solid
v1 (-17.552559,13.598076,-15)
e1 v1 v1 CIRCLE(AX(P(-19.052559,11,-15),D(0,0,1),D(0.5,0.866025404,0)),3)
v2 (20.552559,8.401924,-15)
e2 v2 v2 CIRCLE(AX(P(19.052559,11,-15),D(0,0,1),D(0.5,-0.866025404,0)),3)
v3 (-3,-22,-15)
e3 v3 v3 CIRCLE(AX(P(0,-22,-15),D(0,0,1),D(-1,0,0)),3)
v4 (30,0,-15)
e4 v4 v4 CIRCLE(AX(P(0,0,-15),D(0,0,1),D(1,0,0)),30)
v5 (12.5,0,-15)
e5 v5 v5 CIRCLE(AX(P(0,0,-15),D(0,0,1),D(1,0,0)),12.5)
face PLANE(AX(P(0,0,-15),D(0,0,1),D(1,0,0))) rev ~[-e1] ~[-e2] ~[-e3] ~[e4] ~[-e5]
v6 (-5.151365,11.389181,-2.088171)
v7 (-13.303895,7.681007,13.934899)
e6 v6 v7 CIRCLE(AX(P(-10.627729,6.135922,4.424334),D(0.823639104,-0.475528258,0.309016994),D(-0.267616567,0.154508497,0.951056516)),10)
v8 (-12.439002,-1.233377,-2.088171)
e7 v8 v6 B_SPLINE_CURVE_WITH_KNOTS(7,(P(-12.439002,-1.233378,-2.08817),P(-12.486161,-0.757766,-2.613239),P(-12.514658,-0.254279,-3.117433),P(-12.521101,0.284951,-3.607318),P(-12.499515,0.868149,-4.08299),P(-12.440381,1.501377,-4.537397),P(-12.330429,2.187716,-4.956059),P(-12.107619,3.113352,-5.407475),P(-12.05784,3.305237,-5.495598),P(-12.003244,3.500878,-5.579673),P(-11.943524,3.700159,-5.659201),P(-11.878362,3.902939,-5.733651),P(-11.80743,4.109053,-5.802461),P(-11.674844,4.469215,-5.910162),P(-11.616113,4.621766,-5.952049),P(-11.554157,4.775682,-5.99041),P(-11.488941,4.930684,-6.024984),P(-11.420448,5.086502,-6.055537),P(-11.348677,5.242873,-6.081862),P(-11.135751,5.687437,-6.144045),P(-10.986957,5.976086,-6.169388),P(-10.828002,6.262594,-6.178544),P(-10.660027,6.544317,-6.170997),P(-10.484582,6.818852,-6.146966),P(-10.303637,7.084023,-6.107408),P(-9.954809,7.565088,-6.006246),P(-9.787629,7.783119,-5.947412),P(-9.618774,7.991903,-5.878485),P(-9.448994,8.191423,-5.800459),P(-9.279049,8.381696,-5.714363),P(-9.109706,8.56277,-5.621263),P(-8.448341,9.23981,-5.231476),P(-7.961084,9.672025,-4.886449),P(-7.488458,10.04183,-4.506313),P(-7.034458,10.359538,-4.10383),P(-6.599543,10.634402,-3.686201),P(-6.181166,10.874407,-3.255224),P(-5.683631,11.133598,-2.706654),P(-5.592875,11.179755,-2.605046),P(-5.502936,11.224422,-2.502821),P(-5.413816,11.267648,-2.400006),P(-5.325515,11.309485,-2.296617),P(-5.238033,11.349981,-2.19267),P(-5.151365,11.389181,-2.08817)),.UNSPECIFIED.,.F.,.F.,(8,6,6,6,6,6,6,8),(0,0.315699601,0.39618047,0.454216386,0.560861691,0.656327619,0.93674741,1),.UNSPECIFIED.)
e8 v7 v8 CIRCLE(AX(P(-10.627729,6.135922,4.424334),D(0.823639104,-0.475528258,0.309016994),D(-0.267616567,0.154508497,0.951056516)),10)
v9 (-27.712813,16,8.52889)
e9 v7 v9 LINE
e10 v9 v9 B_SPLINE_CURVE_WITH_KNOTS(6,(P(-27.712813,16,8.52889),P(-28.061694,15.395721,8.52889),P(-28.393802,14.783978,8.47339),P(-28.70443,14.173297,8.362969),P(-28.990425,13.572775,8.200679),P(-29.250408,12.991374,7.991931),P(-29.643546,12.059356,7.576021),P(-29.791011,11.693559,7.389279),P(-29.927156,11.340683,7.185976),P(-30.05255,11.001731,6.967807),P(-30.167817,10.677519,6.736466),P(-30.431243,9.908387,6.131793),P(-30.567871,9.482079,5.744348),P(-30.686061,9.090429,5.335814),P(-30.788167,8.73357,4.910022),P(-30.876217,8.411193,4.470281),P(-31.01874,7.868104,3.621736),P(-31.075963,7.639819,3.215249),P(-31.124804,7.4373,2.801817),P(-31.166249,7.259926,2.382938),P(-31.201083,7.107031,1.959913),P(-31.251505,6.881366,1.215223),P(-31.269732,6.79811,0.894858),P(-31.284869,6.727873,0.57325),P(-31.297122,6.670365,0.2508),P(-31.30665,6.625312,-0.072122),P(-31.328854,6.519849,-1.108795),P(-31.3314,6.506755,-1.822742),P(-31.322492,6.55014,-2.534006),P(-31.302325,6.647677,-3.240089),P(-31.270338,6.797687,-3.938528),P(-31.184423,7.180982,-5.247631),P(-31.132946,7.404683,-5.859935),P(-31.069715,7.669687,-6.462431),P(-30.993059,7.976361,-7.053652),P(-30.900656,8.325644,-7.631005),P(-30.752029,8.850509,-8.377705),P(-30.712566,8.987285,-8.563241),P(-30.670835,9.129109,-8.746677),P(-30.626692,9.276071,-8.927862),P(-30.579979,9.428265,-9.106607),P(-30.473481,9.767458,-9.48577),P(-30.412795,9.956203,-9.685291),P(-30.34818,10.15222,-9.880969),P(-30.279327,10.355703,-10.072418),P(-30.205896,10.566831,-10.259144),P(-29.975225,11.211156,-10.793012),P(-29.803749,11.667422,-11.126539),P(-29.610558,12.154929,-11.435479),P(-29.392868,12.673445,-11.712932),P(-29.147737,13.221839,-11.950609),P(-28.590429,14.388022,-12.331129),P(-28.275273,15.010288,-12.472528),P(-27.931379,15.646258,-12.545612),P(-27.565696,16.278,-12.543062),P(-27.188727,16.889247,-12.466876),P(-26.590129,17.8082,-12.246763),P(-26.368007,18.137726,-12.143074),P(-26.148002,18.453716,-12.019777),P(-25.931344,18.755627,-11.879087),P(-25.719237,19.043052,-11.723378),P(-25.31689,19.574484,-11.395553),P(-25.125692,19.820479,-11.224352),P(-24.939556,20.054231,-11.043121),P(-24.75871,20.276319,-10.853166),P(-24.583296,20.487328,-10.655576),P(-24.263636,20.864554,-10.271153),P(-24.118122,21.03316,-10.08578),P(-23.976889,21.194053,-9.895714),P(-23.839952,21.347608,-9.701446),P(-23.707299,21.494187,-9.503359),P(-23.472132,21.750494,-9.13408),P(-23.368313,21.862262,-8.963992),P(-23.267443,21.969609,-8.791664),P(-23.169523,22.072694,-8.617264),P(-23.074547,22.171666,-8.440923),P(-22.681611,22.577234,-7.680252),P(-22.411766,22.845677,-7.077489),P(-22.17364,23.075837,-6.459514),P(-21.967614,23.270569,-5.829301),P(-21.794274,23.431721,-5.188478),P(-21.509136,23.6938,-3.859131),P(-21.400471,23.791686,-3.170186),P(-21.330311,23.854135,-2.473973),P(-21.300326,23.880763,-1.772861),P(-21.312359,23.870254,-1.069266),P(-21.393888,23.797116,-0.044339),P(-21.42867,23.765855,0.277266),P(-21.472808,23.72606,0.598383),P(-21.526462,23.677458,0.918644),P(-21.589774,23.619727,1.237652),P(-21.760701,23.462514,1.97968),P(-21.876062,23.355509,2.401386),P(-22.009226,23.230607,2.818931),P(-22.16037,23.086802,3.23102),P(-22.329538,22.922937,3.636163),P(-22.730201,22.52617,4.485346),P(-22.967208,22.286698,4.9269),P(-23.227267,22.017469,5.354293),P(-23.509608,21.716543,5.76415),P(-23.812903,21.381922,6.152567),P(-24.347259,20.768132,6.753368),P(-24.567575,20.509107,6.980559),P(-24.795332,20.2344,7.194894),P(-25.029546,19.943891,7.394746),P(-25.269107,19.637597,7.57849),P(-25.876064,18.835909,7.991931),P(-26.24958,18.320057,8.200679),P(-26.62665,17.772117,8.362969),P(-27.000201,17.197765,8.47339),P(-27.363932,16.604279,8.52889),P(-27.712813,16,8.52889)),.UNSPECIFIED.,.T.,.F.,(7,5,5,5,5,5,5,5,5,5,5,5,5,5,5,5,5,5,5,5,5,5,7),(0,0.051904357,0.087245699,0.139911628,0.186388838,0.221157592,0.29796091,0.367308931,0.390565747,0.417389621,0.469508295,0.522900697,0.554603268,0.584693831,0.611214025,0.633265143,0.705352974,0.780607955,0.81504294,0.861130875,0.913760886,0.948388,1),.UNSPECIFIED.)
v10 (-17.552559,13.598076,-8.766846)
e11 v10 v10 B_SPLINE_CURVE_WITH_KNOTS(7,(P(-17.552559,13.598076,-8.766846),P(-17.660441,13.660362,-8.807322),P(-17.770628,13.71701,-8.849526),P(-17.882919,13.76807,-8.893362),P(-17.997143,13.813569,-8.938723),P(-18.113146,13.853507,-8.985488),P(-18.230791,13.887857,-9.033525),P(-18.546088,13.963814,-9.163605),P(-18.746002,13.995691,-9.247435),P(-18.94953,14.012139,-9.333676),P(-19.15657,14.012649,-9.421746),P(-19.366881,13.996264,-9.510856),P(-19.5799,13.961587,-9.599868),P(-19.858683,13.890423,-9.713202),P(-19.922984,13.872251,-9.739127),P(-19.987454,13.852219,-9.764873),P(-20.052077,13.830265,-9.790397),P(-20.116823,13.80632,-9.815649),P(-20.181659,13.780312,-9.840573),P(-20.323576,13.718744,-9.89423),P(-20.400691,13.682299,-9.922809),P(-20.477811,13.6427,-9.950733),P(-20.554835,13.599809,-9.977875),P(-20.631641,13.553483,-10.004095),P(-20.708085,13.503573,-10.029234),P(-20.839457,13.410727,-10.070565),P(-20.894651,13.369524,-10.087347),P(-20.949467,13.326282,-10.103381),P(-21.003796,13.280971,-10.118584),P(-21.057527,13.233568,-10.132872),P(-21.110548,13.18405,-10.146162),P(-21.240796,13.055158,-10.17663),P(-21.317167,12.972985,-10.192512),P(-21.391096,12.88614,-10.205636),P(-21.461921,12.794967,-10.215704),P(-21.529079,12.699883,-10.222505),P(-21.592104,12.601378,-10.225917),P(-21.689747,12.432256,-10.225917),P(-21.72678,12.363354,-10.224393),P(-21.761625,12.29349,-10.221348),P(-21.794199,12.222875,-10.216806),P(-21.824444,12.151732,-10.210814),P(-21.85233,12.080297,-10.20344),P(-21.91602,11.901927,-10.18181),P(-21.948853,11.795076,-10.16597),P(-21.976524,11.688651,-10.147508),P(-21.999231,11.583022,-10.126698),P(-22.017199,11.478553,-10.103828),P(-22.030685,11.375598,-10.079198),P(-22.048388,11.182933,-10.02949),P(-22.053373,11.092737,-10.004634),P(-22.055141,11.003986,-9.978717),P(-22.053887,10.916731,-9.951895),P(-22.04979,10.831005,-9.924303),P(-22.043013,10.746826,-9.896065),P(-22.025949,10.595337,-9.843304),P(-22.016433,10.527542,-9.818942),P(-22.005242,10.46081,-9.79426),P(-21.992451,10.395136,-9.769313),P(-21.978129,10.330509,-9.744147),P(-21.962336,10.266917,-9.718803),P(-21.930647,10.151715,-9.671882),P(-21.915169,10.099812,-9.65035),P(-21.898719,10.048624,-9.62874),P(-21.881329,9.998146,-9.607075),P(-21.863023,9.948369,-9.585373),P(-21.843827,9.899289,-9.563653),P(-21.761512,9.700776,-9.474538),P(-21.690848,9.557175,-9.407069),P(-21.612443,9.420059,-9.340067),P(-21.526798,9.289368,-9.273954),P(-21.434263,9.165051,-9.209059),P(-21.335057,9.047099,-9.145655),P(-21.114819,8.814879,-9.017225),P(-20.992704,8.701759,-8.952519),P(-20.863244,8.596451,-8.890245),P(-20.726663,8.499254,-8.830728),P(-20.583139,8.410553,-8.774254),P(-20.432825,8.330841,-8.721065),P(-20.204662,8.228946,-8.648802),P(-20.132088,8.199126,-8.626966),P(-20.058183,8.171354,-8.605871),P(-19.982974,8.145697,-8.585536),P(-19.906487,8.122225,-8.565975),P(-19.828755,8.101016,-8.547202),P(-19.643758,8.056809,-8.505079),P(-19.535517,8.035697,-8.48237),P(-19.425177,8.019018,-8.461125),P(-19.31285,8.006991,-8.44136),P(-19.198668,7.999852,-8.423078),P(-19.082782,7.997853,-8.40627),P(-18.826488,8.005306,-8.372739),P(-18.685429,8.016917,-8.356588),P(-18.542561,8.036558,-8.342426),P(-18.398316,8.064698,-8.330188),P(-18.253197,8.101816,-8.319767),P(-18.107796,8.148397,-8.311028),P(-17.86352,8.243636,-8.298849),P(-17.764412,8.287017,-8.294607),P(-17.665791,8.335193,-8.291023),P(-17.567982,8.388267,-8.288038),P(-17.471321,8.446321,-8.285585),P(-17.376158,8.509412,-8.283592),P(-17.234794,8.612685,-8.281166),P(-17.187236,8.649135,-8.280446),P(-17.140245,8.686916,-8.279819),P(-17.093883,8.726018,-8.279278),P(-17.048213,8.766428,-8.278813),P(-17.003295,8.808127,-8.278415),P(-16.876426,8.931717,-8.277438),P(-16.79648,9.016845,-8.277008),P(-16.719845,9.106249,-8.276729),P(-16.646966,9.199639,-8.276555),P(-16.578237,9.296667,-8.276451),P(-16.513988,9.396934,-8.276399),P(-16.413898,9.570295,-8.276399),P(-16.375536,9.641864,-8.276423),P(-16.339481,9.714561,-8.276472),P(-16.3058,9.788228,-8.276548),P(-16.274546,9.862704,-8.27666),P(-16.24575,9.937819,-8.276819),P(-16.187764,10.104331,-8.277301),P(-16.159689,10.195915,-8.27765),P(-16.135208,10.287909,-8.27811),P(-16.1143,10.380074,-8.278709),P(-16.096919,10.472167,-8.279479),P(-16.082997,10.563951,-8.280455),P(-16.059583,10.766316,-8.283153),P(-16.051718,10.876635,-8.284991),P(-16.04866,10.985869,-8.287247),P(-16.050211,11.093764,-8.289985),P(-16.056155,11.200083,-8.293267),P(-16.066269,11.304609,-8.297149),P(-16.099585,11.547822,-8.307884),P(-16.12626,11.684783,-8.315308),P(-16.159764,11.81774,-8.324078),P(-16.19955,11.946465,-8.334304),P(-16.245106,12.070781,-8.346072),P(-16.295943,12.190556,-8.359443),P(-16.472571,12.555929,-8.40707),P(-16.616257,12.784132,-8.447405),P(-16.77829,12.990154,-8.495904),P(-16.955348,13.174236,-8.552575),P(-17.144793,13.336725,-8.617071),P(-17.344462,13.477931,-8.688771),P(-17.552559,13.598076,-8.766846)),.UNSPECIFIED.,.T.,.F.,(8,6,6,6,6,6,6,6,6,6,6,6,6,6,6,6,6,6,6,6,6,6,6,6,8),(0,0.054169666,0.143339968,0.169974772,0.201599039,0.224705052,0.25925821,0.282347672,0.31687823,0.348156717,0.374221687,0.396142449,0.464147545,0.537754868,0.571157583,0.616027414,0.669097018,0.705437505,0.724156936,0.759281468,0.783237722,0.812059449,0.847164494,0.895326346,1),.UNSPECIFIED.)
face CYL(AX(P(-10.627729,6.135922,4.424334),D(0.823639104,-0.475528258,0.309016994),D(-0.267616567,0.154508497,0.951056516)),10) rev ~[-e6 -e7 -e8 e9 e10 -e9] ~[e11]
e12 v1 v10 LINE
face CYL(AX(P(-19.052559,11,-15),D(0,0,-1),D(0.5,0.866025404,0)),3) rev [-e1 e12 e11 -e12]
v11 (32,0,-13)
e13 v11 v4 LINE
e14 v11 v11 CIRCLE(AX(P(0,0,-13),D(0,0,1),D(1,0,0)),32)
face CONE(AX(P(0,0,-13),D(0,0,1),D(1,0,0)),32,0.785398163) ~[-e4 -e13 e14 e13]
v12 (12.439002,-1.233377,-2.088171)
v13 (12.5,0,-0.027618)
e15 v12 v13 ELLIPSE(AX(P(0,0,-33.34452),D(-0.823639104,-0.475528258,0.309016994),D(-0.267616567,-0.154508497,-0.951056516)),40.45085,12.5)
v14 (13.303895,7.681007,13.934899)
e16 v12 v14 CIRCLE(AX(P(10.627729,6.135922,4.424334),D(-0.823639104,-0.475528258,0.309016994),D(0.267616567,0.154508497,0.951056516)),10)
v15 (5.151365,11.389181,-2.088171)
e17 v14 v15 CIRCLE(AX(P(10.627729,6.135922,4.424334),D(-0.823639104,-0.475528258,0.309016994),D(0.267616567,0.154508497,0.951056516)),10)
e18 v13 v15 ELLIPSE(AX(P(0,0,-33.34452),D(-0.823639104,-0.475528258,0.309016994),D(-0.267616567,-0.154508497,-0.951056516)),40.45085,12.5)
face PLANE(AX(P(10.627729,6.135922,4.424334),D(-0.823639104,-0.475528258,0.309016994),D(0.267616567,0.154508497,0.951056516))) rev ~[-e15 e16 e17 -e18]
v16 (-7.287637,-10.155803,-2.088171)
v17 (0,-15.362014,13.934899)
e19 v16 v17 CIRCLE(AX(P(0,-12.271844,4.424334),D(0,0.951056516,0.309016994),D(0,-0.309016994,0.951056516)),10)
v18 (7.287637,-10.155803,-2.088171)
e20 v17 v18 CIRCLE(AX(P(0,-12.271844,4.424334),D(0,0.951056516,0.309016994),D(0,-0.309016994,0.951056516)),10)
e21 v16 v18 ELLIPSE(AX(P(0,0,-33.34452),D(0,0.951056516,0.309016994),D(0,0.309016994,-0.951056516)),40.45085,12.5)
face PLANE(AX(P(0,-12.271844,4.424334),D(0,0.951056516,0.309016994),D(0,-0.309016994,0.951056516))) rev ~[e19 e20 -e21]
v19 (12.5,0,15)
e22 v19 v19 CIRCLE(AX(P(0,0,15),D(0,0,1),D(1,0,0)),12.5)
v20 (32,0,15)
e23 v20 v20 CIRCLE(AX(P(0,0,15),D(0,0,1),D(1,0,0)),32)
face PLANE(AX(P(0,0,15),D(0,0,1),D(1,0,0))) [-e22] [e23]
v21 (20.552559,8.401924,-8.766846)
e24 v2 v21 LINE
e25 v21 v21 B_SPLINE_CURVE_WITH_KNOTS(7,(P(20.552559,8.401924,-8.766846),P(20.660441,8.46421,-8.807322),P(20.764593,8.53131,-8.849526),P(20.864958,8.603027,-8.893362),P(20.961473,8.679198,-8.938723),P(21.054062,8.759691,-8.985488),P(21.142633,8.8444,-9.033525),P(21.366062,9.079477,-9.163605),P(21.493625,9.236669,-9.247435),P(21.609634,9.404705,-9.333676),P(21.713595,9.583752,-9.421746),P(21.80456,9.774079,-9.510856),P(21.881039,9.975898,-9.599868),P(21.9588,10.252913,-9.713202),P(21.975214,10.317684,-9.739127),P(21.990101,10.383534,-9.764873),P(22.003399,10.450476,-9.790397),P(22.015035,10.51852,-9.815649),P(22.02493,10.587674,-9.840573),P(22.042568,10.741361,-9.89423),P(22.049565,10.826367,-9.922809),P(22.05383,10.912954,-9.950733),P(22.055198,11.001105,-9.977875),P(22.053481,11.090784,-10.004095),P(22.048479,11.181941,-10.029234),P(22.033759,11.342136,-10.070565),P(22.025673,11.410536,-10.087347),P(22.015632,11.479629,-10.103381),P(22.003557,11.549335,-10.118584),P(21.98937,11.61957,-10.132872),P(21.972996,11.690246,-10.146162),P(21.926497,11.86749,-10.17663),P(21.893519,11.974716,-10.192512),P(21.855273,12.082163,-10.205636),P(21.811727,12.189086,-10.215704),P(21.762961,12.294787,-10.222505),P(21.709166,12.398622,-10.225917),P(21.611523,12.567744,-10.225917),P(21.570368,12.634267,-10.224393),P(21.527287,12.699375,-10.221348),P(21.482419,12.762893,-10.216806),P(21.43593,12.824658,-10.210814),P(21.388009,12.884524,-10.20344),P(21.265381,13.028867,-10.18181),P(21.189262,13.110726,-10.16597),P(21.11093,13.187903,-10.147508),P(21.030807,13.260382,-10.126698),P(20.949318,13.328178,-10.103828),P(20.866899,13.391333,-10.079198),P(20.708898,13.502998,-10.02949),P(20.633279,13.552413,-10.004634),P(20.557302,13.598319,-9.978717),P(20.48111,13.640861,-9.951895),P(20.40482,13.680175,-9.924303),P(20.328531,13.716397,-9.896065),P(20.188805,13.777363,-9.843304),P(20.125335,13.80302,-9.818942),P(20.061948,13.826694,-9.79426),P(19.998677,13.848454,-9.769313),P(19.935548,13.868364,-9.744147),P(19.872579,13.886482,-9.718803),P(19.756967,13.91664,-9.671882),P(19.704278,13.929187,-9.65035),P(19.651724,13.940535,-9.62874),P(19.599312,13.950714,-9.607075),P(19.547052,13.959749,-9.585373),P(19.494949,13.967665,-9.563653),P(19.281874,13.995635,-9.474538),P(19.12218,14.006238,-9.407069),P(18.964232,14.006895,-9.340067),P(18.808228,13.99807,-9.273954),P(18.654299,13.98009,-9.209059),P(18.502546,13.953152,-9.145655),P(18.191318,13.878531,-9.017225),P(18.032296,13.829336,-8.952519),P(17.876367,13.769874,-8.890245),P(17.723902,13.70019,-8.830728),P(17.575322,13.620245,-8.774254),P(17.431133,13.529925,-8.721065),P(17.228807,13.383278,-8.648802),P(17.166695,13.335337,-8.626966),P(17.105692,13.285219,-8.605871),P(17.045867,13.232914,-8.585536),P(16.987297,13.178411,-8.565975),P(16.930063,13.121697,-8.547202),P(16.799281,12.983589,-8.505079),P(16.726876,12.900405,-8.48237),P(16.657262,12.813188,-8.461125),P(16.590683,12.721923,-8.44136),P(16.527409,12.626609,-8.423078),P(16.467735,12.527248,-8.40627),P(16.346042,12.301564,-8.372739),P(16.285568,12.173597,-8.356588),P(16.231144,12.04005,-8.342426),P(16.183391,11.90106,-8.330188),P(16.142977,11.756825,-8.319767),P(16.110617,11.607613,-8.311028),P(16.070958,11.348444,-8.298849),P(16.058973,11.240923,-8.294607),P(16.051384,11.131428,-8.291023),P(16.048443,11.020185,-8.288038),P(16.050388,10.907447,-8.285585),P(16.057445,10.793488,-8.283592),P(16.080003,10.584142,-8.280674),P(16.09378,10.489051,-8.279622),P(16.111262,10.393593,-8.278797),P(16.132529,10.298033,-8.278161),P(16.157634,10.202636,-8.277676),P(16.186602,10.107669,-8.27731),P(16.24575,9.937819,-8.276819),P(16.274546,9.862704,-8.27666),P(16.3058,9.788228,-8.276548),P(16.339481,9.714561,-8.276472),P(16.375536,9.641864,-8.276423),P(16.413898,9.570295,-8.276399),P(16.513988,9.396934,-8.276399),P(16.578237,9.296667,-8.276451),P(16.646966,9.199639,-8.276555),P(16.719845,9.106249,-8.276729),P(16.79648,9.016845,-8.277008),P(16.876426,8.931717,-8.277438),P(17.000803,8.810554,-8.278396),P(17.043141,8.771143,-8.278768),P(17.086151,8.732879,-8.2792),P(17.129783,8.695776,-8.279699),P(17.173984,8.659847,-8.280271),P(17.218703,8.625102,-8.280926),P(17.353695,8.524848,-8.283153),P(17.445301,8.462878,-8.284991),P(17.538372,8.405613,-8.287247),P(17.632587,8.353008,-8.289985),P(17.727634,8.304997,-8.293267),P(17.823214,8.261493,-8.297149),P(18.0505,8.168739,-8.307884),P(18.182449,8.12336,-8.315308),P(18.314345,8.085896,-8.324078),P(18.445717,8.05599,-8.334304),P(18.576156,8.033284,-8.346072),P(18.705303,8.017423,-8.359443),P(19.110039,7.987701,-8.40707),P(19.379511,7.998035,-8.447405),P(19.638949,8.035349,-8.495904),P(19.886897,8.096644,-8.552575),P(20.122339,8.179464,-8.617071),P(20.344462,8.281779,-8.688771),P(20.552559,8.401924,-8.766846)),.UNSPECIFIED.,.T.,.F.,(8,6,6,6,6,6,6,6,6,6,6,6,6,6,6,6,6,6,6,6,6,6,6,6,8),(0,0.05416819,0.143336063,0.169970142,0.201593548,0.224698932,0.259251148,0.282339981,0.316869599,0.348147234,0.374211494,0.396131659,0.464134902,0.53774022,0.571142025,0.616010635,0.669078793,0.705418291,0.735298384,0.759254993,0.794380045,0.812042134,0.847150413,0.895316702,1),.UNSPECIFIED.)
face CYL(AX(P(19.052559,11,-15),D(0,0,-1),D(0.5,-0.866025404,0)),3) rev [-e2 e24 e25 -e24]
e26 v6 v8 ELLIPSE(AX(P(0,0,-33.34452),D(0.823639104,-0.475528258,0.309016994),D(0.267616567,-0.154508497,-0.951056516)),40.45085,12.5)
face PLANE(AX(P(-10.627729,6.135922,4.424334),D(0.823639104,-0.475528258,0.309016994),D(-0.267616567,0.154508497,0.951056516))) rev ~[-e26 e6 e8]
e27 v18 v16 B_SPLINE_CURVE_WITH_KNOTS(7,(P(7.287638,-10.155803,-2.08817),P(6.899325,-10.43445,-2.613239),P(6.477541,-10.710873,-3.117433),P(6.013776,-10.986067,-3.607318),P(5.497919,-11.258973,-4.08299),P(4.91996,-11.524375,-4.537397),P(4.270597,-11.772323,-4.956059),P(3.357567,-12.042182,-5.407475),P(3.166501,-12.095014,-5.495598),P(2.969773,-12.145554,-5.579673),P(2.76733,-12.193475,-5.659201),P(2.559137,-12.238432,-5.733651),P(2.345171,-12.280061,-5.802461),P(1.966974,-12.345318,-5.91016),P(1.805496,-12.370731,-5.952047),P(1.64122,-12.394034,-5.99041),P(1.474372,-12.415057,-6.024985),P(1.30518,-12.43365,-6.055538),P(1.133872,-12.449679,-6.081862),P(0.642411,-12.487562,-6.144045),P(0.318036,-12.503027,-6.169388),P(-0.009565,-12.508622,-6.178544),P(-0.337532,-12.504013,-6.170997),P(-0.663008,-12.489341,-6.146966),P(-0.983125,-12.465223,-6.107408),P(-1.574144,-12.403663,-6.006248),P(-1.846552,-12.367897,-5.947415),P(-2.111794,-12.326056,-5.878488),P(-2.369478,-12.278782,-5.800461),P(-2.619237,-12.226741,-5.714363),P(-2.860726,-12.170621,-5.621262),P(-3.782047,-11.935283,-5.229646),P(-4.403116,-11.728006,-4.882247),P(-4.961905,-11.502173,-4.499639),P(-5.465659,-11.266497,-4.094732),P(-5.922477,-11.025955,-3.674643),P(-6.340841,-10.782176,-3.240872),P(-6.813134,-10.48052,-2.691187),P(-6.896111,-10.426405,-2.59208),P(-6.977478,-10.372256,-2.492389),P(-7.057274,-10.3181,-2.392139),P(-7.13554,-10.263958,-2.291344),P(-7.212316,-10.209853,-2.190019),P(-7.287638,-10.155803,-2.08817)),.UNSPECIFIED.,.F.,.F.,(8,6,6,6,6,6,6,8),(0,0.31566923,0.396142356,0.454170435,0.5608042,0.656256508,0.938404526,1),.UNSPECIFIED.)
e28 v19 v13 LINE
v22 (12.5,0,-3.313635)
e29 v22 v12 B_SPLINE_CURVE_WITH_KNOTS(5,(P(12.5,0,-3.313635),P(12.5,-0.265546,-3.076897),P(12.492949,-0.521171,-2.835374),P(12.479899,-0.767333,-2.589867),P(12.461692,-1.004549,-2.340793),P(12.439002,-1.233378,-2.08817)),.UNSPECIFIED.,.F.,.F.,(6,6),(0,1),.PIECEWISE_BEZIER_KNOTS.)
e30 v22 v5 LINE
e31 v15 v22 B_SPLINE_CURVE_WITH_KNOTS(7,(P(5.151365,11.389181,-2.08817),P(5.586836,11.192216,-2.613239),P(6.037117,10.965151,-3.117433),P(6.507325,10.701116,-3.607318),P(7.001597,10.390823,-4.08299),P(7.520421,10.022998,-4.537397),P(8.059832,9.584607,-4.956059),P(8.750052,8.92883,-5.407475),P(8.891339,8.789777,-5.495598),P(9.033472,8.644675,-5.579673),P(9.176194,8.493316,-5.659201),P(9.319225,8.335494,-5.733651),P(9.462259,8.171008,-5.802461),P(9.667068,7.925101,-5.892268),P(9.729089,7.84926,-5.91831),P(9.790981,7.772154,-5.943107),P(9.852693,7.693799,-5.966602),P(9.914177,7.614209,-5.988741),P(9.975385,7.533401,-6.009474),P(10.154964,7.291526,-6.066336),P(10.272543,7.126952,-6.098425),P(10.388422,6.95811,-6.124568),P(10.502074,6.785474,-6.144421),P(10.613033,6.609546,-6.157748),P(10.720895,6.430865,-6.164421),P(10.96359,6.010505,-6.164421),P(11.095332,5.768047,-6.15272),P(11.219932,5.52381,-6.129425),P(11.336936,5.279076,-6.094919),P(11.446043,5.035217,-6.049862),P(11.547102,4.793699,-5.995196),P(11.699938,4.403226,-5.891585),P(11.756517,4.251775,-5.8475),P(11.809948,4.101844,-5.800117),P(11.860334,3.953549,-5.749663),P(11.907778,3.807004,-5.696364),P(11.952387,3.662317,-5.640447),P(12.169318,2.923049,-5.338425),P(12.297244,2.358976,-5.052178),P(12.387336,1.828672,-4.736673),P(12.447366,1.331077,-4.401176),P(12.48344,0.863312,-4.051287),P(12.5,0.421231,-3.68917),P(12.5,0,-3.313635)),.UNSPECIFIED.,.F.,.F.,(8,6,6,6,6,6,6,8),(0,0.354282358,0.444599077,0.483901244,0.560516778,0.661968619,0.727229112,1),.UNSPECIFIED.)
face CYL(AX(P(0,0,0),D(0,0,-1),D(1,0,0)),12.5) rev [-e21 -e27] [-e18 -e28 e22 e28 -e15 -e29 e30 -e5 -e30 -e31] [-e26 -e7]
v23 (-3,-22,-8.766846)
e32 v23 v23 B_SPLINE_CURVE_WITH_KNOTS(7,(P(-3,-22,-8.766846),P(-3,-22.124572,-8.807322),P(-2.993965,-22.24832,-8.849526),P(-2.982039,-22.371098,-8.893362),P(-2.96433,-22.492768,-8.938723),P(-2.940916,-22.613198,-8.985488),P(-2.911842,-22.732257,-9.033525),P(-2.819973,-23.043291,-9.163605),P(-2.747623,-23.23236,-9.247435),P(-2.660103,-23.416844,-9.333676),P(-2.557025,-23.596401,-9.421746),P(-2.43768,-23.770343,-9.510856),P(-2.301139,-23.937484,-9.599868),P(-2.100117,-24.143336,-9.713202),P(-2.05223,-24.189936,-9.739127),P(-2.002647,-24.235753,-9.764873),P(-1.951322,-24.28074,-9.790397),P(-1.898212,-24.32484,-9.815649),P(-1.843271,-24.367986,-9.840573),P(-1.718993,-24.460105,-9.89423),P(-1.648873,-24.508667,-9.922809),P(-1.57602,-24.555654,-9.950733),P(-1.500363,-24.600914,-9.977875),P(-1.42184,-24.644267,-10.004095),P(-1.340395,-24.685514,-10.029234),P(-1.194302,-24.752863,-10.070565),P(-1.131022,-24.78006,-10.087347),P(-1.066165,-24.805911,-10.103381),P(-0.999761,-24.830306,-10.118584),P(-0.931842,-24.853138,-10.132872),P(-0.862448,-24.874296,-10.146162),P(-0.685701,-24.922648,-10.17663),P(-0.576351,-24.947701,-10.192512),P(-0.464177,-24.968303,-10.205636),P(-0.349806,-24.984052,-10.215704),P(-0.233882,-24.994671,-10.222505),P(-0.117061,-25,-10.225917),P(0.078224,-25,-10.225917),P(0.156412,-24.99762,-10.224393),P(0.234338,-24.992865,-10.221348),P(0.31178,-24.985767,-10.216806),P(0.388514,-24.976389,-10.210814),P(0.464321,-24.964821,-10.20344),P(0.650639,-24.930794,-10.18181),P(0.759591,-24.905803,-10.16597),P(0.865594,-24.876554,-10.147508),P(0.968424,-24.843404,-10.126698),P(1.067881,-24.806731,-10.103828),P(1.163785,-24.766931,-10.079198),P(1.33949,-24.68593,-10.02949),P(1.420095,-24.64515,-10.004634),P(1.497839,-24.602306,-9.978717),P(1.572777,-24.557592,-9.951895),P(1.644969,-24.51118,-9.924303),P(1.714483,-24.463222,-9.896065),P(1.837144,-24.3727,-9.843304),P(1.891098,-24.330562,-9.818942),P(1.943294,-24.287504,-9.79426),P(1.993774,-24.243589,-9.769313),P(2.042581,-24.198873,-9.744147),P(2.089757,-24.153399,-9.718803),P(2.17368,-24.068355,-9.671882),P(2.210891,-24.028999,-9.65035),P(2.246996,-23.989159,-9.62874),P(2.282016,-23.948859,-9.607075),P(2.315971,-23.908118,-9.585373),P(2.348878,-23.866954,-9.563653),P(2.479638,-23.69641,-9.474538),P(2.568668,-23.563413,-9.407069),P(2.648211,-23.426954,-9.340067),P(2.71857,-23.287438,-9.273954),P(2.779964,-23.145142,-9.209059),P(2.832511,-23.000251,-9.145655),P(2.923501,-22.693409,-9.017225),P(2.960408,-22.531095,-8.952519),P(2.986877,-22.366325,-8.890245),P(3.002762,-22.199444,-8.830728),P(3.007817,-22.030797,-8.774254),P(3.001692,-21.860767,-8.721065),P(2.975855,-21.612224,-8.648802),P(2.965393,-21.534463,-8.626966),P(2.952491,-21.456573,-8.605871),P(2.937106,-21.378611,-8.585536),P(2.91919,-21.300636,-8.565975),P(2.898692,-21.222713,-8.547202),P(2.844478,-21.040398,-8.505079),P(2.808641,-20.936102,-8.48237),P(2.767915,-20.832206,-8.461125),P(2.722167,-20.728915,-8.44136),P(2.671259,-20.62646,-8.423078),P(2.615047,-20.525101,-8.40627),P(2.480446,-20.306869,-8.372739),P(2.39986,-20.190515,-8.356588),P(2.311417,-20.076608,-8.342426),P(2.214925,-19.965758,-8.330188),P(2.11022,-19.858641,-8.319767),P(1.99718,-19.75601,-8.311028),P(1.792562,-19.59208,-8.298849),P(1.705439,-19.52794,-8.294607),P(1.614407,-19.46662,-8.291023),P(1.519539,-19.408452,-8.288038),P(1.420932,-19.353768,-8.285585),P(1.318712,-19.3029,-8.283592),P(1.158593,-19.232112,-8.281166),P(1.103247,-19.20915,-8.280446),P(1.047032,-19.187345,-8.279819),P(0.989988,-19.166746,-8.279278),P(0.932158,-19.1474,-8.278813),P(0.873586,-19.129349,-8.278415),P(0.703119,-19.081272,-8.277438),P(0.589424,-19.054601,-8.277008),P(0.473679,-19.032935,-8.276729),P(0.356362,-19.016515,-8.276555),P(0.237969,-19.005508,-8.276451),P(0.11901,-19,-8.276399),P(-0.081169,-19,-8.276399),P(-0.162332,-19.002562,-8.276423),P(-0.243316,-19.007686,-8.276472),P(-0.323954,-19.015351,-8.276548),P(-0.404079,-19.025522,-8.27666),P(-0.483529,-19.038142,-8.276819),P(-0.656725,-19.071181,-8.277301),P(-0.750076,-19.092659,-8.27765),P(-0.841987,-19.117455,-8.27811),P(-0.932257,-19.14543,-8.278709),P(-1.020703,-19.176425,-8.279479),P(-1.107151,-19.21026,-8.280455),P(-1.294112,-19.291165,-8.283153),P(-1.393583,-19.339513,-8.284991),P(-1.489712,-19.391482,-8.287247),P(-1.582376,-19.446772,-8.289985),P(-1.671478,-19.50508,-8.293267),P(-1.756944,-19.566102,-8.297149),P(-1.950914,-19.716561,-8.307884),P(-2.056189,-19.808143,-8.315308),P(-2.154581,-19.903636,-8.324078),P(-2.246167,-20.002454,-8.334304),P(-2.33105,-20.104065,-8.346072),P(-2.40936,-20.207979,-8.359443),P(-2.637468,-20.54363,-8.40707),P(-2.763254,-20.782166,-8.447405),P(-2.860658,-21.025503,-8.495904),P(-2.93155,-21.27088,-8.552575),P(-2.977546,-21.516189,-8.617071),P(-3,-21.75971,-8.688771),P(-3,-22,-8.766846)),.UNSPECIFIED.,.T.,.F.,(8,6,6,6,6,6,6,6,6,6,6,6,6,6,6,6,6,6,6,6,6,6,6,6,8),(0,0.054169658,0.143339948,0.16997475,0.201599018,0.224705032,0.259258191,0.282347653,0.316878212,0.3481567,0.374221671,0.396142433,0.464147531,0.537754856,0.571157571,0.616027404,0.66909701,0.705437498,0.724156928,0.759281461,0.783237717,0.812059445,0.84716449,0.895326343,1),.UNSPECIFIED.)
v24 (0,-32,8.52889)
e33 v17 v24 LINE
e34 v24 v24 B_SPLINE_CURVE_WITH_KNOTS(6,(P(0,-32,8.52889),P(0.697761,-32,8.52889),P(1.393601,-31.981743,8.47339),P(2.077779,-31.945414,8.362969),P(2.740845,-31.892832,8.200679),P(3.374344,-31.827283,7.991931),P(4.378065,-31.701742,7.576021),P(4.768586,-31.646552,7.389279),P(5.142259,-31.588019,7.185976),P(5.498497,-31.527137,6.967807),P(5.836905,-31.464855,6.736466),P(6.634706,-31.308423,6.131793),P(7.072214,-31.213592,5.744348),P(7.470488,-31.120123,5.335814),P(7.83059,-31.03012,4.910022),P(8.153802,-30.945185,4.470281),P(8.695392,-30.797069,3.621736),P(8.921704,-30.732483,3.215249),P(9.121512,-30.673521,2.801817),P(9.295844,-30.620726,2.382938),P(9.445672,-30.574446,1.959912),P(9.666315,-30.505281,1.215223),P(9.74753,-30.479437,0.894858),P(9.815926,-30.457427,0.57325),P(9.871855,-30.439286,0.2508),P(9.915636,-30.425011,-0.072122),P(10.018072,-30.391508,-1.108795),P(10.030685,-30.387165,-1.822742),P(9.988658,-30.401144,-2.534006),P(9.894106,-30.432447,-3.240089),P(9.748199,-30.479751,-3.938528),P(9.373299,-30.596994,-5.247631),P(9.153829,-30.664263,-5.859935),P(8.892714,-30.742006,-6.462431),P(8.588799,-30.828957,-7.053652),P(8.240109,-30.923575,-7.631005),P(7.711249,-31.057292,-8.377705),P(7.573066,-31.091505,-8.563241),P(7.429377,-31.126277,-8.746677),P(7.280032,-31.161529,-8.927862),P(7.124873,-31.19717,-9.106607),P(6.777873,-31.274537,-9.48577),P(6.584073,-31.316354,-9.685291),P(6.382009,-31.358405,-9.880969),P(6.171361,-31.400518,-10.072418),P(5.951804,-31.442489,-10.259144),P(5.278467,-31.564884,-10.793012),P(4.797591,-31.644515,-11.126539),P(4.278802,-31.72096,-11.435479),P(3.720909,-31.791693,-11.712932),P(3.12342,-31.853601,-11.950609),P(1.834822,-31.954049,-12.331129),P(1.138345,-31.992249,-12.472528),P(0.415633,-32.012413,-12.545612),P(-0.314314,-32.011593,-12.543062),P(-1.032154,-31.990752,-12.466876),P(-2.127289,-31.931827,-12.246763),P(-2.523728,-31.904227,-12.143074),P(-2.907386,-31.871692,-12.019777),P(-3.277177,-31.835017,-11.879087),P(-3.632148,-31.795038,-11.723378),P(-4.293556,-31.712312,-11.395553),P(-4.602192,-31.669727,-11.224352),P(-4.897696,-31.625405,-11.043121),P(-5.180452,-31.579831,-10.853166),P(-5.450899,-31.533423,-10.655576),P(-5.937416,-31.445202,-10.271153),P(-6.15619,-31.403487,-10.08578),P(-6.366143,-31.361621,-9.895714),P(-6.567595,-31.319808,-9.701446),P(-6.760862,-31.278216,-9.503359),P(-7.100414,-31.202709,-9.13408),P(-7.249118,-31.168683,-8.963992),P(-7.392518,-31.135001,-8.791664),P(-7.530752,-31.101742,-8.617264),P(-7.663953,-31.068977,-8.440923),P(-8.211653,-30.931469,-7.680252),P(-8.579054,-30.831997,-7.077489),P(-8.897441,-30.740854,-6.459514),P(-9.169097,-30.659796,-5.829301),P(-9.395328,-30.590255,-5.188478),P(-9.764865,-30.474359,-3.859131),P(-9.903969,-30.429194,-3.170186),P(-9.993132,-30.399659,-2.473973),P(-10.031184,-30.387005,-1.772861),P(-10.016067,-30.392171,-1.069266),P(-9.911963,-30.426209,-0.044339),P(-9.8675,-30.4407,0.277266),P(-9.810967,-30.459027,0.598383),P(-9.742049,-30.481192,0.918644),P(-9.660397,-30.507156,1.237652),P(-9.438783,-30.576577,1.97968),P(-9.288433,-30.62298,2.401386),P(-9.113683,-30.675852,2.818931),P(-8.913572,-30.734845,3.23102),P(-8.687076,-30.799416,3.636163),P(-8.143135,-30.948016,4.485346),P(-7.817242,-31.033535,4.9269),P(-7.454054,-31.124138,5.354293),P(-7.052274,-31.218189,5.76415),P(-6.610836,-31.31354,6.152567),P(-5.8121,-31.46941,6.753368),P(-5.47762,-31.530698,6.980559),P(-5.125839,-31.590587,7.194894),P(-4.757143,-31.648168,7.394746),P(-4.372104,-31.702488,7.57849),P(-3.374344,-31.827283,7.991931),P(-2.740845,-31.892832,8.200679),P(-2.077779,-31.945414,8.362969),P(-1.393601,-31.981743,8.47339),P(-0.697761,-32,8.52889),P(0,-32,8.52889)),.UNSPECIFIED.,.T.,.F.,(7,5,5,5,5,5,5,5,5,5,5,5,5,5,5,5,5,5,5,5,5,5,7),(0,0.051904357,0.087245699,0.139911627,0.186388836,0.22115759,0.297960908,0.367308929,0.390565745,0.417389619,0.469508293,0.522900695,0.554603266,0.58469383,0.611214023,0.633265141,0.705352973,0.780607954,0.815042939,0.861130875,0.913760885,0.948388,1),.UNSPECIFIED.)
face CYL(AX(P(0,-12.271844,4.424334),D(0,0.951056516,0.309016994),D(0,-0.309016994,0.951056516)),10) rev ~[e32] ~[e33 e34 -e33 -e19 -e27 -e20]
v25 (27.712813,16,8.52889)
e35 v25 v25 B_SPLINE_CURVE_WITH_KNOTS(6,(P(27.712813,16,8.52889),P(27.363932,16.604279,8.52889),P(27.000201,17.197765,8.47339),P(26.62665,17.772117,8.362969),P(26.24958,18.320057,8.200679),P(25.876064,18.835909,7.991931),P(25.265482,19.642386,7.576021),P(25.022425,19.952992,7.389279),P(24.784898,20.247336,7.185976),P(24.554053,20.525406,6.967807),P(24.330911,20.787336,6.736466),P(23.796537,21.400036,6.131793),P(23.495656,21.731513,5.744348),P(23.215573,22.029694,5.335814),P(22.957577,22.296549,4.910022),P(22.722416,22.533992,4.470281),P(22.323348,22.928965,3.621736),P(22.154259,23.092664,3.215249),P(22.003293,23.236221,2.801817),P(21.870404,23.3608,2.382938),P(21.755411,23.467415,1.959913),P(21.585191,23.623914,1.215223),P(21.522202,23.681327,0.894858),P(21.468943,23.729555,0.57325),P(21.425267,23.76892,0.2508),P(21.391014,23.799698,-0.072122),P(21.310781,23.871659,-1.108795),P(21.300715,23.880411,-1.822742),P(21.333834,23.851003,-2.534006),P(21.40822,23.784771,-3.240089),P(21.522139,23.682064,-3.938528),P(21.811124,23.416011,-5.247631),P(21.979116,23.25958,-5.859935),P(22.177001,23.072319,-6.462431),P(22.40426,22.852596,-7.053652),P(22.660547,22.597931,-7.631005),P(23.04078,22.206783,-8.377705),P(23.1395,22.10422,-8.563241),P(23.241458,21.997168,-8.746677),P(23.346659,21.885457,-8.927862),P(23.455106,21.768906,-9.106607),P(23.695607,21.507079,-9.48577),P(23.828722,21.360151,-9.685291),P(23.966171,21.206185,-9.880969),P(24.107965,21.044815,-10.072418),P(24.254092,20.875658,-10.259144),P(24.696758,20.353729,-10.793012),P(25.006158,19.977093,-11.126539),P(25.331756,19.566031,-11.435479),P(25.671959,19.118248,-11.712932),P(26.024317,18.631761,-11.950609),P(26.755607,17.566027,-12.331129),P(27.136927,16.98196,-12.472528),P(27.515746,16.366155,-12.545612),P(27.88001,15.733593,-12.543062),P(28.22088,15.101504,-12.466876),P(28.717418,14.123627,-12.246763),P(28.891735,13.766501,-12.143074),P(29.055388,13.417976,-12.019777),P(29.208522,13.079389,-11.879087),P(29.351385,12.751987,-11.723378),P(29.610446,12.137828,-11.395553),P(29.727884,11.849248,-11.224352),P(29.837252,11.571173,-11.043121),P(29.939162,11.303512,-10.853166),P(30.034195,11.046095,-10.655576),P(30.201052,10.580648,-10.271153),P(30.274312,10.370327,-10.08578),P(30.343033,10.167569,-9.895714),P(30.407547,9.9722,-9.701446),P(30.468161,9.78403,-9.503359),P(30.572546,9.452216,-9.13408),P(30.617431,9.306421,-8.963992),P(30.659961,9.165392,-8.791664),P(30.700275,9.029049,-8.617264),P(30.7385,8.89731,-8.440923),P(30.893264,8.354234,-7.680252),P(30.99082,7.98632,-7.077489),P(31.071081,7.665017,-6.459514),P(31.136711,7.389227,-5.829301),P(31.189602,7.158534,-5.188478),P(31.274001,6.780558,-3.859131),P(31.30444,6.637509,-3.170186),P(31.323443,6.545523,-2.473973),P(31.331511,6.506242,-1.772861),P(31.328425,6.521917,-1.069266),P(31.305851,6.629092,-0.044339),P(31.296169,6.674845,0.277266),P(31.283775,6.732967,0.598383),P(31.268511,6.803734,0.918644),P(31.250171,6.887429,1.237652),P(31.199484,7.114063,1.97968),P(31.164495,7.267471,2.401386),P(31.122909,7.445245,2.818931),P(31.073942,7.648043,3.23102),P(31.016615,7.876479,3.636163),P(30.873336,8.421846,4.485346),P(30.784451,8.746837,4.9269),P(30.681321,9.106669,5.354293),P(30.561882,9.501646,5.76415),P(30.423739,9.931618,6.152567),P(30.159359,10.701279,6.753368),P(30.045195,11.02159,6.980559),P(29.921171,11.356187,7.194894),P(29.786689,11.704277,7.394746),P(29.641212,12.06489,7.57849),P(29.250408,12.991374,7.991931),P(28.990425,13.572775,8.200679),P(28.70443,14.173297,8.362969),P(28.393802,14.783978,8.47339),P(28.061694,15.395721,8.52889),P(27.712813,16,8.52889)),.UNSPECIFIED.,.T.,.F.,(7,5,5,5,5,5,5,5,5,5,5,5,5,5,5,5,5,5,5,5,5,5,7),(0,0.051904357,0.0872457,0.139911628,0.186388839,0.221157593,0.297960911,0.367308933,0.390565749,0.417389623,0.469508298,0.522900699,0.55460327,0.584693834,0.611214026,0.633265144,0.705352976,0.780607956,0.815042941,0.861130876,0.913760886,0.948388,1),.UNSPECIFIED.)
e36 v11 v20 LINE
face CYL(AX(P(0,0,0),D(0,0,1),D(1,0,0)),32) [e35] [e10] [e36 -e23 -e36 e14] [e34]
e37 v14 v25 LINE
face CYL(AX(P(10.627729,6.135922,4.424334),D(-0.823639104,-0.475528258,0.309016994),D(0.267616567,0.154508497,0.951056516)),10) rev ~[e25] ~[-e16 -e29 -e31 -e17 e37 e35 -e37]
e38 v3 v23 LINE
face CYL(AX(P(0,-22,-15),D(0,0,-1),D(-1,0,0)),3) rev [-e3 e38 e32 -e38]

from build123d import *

# Parameters (mm, degrees)
SKETCH1_R           = 32
SKETCH1_R_2         = 12.5
BOSS_EXTRUDE1_DEPTH = 15
SKETCH2_R           = 10
CUT_EXTRUDE1_DEPTH  = 56.689497751
CIRPATTERN1_COUNT   = 3
SKETCH4_R           = 3
CUT_EXTRUDE3_DEPTH  = 11
CIRPATTERN2_COUNT   = 3
CHAMFER2_SIZE       = 2


with BuildPart() as part:
    # Sketch1 → Boss-Extrude1 (new, symmetric)
    with BuildSketch(Plane.XY):
        Circle(SKETCH1_R)
        Circle(SKETCH1_R_2, mode=Mode.SUBTRACT)
    extrude(amount=BOSS_EXTRUDE1_DEPTH, both=True)

    # Sketch2 → Cut-Extrude1 (cut, through all)
    with BuildSketch(Plane(origin=(0, -9.819536819, -3.123093004), x_dir=(1, 0, 0), z_dir=(0, 0.9510565162951555, 0.3090169943749417))):
        with Locations(Location((0, -7.935834199, 0), (0, 0, 270))):
            Circle(SKETCH2_R)
    cut_extrude1 = extrude(amount=-CUT_EXTRUDE1_DEPTH, mode=Mode.SUBTRACT)

    # CirPattern1: Cut-Extrude1 ×3 about axis
    cirpattern1_axis = Axis((0, 0, 0), (0, 0, 1))
    for i in range(1, CIRPATTERN1_COUNT):
        add(cut_extrude1.rotate(cirpattern1_axis, i * 360 / CIRPATTERN1_COUNT), mode=Mode.SUBTRACT)

    # Sketch4 → Cut-Extrude3 (cut)
    with BuildSketch(Plane.XY.offset(-15)):
        with Locations(Location((0, -22, 0), (0, 0, 180))):
            Circle(SKETCH4_R)
    cut_extrude3 = extrude(amount=CUT_EXTRUDE3_DEPTH, mode=Mode.SUBTRACT)

    # CirPattern2: Cut-Extrude3 ×3 about axis
    cirpattern2_axis = Axis((0, 0, 0), (0, 0, 1))
    for i in range(1, CIRPATTERN2_COUNT):
        add(cut_extrude3.rotate(cirpattern2_axis, i * 360 / CIRPATTERN2_COUNT), mode=Mode.SUBTRACT)

    # Chamfer2
    chamfer2_edges = [part.edges().sort_by_distance(p)[0] for p in [
        (-32, 0, -15),
    ]]
    chamfer(chamfer2_edges, length=CHAMFER2_SIZE)


solid = part.part
